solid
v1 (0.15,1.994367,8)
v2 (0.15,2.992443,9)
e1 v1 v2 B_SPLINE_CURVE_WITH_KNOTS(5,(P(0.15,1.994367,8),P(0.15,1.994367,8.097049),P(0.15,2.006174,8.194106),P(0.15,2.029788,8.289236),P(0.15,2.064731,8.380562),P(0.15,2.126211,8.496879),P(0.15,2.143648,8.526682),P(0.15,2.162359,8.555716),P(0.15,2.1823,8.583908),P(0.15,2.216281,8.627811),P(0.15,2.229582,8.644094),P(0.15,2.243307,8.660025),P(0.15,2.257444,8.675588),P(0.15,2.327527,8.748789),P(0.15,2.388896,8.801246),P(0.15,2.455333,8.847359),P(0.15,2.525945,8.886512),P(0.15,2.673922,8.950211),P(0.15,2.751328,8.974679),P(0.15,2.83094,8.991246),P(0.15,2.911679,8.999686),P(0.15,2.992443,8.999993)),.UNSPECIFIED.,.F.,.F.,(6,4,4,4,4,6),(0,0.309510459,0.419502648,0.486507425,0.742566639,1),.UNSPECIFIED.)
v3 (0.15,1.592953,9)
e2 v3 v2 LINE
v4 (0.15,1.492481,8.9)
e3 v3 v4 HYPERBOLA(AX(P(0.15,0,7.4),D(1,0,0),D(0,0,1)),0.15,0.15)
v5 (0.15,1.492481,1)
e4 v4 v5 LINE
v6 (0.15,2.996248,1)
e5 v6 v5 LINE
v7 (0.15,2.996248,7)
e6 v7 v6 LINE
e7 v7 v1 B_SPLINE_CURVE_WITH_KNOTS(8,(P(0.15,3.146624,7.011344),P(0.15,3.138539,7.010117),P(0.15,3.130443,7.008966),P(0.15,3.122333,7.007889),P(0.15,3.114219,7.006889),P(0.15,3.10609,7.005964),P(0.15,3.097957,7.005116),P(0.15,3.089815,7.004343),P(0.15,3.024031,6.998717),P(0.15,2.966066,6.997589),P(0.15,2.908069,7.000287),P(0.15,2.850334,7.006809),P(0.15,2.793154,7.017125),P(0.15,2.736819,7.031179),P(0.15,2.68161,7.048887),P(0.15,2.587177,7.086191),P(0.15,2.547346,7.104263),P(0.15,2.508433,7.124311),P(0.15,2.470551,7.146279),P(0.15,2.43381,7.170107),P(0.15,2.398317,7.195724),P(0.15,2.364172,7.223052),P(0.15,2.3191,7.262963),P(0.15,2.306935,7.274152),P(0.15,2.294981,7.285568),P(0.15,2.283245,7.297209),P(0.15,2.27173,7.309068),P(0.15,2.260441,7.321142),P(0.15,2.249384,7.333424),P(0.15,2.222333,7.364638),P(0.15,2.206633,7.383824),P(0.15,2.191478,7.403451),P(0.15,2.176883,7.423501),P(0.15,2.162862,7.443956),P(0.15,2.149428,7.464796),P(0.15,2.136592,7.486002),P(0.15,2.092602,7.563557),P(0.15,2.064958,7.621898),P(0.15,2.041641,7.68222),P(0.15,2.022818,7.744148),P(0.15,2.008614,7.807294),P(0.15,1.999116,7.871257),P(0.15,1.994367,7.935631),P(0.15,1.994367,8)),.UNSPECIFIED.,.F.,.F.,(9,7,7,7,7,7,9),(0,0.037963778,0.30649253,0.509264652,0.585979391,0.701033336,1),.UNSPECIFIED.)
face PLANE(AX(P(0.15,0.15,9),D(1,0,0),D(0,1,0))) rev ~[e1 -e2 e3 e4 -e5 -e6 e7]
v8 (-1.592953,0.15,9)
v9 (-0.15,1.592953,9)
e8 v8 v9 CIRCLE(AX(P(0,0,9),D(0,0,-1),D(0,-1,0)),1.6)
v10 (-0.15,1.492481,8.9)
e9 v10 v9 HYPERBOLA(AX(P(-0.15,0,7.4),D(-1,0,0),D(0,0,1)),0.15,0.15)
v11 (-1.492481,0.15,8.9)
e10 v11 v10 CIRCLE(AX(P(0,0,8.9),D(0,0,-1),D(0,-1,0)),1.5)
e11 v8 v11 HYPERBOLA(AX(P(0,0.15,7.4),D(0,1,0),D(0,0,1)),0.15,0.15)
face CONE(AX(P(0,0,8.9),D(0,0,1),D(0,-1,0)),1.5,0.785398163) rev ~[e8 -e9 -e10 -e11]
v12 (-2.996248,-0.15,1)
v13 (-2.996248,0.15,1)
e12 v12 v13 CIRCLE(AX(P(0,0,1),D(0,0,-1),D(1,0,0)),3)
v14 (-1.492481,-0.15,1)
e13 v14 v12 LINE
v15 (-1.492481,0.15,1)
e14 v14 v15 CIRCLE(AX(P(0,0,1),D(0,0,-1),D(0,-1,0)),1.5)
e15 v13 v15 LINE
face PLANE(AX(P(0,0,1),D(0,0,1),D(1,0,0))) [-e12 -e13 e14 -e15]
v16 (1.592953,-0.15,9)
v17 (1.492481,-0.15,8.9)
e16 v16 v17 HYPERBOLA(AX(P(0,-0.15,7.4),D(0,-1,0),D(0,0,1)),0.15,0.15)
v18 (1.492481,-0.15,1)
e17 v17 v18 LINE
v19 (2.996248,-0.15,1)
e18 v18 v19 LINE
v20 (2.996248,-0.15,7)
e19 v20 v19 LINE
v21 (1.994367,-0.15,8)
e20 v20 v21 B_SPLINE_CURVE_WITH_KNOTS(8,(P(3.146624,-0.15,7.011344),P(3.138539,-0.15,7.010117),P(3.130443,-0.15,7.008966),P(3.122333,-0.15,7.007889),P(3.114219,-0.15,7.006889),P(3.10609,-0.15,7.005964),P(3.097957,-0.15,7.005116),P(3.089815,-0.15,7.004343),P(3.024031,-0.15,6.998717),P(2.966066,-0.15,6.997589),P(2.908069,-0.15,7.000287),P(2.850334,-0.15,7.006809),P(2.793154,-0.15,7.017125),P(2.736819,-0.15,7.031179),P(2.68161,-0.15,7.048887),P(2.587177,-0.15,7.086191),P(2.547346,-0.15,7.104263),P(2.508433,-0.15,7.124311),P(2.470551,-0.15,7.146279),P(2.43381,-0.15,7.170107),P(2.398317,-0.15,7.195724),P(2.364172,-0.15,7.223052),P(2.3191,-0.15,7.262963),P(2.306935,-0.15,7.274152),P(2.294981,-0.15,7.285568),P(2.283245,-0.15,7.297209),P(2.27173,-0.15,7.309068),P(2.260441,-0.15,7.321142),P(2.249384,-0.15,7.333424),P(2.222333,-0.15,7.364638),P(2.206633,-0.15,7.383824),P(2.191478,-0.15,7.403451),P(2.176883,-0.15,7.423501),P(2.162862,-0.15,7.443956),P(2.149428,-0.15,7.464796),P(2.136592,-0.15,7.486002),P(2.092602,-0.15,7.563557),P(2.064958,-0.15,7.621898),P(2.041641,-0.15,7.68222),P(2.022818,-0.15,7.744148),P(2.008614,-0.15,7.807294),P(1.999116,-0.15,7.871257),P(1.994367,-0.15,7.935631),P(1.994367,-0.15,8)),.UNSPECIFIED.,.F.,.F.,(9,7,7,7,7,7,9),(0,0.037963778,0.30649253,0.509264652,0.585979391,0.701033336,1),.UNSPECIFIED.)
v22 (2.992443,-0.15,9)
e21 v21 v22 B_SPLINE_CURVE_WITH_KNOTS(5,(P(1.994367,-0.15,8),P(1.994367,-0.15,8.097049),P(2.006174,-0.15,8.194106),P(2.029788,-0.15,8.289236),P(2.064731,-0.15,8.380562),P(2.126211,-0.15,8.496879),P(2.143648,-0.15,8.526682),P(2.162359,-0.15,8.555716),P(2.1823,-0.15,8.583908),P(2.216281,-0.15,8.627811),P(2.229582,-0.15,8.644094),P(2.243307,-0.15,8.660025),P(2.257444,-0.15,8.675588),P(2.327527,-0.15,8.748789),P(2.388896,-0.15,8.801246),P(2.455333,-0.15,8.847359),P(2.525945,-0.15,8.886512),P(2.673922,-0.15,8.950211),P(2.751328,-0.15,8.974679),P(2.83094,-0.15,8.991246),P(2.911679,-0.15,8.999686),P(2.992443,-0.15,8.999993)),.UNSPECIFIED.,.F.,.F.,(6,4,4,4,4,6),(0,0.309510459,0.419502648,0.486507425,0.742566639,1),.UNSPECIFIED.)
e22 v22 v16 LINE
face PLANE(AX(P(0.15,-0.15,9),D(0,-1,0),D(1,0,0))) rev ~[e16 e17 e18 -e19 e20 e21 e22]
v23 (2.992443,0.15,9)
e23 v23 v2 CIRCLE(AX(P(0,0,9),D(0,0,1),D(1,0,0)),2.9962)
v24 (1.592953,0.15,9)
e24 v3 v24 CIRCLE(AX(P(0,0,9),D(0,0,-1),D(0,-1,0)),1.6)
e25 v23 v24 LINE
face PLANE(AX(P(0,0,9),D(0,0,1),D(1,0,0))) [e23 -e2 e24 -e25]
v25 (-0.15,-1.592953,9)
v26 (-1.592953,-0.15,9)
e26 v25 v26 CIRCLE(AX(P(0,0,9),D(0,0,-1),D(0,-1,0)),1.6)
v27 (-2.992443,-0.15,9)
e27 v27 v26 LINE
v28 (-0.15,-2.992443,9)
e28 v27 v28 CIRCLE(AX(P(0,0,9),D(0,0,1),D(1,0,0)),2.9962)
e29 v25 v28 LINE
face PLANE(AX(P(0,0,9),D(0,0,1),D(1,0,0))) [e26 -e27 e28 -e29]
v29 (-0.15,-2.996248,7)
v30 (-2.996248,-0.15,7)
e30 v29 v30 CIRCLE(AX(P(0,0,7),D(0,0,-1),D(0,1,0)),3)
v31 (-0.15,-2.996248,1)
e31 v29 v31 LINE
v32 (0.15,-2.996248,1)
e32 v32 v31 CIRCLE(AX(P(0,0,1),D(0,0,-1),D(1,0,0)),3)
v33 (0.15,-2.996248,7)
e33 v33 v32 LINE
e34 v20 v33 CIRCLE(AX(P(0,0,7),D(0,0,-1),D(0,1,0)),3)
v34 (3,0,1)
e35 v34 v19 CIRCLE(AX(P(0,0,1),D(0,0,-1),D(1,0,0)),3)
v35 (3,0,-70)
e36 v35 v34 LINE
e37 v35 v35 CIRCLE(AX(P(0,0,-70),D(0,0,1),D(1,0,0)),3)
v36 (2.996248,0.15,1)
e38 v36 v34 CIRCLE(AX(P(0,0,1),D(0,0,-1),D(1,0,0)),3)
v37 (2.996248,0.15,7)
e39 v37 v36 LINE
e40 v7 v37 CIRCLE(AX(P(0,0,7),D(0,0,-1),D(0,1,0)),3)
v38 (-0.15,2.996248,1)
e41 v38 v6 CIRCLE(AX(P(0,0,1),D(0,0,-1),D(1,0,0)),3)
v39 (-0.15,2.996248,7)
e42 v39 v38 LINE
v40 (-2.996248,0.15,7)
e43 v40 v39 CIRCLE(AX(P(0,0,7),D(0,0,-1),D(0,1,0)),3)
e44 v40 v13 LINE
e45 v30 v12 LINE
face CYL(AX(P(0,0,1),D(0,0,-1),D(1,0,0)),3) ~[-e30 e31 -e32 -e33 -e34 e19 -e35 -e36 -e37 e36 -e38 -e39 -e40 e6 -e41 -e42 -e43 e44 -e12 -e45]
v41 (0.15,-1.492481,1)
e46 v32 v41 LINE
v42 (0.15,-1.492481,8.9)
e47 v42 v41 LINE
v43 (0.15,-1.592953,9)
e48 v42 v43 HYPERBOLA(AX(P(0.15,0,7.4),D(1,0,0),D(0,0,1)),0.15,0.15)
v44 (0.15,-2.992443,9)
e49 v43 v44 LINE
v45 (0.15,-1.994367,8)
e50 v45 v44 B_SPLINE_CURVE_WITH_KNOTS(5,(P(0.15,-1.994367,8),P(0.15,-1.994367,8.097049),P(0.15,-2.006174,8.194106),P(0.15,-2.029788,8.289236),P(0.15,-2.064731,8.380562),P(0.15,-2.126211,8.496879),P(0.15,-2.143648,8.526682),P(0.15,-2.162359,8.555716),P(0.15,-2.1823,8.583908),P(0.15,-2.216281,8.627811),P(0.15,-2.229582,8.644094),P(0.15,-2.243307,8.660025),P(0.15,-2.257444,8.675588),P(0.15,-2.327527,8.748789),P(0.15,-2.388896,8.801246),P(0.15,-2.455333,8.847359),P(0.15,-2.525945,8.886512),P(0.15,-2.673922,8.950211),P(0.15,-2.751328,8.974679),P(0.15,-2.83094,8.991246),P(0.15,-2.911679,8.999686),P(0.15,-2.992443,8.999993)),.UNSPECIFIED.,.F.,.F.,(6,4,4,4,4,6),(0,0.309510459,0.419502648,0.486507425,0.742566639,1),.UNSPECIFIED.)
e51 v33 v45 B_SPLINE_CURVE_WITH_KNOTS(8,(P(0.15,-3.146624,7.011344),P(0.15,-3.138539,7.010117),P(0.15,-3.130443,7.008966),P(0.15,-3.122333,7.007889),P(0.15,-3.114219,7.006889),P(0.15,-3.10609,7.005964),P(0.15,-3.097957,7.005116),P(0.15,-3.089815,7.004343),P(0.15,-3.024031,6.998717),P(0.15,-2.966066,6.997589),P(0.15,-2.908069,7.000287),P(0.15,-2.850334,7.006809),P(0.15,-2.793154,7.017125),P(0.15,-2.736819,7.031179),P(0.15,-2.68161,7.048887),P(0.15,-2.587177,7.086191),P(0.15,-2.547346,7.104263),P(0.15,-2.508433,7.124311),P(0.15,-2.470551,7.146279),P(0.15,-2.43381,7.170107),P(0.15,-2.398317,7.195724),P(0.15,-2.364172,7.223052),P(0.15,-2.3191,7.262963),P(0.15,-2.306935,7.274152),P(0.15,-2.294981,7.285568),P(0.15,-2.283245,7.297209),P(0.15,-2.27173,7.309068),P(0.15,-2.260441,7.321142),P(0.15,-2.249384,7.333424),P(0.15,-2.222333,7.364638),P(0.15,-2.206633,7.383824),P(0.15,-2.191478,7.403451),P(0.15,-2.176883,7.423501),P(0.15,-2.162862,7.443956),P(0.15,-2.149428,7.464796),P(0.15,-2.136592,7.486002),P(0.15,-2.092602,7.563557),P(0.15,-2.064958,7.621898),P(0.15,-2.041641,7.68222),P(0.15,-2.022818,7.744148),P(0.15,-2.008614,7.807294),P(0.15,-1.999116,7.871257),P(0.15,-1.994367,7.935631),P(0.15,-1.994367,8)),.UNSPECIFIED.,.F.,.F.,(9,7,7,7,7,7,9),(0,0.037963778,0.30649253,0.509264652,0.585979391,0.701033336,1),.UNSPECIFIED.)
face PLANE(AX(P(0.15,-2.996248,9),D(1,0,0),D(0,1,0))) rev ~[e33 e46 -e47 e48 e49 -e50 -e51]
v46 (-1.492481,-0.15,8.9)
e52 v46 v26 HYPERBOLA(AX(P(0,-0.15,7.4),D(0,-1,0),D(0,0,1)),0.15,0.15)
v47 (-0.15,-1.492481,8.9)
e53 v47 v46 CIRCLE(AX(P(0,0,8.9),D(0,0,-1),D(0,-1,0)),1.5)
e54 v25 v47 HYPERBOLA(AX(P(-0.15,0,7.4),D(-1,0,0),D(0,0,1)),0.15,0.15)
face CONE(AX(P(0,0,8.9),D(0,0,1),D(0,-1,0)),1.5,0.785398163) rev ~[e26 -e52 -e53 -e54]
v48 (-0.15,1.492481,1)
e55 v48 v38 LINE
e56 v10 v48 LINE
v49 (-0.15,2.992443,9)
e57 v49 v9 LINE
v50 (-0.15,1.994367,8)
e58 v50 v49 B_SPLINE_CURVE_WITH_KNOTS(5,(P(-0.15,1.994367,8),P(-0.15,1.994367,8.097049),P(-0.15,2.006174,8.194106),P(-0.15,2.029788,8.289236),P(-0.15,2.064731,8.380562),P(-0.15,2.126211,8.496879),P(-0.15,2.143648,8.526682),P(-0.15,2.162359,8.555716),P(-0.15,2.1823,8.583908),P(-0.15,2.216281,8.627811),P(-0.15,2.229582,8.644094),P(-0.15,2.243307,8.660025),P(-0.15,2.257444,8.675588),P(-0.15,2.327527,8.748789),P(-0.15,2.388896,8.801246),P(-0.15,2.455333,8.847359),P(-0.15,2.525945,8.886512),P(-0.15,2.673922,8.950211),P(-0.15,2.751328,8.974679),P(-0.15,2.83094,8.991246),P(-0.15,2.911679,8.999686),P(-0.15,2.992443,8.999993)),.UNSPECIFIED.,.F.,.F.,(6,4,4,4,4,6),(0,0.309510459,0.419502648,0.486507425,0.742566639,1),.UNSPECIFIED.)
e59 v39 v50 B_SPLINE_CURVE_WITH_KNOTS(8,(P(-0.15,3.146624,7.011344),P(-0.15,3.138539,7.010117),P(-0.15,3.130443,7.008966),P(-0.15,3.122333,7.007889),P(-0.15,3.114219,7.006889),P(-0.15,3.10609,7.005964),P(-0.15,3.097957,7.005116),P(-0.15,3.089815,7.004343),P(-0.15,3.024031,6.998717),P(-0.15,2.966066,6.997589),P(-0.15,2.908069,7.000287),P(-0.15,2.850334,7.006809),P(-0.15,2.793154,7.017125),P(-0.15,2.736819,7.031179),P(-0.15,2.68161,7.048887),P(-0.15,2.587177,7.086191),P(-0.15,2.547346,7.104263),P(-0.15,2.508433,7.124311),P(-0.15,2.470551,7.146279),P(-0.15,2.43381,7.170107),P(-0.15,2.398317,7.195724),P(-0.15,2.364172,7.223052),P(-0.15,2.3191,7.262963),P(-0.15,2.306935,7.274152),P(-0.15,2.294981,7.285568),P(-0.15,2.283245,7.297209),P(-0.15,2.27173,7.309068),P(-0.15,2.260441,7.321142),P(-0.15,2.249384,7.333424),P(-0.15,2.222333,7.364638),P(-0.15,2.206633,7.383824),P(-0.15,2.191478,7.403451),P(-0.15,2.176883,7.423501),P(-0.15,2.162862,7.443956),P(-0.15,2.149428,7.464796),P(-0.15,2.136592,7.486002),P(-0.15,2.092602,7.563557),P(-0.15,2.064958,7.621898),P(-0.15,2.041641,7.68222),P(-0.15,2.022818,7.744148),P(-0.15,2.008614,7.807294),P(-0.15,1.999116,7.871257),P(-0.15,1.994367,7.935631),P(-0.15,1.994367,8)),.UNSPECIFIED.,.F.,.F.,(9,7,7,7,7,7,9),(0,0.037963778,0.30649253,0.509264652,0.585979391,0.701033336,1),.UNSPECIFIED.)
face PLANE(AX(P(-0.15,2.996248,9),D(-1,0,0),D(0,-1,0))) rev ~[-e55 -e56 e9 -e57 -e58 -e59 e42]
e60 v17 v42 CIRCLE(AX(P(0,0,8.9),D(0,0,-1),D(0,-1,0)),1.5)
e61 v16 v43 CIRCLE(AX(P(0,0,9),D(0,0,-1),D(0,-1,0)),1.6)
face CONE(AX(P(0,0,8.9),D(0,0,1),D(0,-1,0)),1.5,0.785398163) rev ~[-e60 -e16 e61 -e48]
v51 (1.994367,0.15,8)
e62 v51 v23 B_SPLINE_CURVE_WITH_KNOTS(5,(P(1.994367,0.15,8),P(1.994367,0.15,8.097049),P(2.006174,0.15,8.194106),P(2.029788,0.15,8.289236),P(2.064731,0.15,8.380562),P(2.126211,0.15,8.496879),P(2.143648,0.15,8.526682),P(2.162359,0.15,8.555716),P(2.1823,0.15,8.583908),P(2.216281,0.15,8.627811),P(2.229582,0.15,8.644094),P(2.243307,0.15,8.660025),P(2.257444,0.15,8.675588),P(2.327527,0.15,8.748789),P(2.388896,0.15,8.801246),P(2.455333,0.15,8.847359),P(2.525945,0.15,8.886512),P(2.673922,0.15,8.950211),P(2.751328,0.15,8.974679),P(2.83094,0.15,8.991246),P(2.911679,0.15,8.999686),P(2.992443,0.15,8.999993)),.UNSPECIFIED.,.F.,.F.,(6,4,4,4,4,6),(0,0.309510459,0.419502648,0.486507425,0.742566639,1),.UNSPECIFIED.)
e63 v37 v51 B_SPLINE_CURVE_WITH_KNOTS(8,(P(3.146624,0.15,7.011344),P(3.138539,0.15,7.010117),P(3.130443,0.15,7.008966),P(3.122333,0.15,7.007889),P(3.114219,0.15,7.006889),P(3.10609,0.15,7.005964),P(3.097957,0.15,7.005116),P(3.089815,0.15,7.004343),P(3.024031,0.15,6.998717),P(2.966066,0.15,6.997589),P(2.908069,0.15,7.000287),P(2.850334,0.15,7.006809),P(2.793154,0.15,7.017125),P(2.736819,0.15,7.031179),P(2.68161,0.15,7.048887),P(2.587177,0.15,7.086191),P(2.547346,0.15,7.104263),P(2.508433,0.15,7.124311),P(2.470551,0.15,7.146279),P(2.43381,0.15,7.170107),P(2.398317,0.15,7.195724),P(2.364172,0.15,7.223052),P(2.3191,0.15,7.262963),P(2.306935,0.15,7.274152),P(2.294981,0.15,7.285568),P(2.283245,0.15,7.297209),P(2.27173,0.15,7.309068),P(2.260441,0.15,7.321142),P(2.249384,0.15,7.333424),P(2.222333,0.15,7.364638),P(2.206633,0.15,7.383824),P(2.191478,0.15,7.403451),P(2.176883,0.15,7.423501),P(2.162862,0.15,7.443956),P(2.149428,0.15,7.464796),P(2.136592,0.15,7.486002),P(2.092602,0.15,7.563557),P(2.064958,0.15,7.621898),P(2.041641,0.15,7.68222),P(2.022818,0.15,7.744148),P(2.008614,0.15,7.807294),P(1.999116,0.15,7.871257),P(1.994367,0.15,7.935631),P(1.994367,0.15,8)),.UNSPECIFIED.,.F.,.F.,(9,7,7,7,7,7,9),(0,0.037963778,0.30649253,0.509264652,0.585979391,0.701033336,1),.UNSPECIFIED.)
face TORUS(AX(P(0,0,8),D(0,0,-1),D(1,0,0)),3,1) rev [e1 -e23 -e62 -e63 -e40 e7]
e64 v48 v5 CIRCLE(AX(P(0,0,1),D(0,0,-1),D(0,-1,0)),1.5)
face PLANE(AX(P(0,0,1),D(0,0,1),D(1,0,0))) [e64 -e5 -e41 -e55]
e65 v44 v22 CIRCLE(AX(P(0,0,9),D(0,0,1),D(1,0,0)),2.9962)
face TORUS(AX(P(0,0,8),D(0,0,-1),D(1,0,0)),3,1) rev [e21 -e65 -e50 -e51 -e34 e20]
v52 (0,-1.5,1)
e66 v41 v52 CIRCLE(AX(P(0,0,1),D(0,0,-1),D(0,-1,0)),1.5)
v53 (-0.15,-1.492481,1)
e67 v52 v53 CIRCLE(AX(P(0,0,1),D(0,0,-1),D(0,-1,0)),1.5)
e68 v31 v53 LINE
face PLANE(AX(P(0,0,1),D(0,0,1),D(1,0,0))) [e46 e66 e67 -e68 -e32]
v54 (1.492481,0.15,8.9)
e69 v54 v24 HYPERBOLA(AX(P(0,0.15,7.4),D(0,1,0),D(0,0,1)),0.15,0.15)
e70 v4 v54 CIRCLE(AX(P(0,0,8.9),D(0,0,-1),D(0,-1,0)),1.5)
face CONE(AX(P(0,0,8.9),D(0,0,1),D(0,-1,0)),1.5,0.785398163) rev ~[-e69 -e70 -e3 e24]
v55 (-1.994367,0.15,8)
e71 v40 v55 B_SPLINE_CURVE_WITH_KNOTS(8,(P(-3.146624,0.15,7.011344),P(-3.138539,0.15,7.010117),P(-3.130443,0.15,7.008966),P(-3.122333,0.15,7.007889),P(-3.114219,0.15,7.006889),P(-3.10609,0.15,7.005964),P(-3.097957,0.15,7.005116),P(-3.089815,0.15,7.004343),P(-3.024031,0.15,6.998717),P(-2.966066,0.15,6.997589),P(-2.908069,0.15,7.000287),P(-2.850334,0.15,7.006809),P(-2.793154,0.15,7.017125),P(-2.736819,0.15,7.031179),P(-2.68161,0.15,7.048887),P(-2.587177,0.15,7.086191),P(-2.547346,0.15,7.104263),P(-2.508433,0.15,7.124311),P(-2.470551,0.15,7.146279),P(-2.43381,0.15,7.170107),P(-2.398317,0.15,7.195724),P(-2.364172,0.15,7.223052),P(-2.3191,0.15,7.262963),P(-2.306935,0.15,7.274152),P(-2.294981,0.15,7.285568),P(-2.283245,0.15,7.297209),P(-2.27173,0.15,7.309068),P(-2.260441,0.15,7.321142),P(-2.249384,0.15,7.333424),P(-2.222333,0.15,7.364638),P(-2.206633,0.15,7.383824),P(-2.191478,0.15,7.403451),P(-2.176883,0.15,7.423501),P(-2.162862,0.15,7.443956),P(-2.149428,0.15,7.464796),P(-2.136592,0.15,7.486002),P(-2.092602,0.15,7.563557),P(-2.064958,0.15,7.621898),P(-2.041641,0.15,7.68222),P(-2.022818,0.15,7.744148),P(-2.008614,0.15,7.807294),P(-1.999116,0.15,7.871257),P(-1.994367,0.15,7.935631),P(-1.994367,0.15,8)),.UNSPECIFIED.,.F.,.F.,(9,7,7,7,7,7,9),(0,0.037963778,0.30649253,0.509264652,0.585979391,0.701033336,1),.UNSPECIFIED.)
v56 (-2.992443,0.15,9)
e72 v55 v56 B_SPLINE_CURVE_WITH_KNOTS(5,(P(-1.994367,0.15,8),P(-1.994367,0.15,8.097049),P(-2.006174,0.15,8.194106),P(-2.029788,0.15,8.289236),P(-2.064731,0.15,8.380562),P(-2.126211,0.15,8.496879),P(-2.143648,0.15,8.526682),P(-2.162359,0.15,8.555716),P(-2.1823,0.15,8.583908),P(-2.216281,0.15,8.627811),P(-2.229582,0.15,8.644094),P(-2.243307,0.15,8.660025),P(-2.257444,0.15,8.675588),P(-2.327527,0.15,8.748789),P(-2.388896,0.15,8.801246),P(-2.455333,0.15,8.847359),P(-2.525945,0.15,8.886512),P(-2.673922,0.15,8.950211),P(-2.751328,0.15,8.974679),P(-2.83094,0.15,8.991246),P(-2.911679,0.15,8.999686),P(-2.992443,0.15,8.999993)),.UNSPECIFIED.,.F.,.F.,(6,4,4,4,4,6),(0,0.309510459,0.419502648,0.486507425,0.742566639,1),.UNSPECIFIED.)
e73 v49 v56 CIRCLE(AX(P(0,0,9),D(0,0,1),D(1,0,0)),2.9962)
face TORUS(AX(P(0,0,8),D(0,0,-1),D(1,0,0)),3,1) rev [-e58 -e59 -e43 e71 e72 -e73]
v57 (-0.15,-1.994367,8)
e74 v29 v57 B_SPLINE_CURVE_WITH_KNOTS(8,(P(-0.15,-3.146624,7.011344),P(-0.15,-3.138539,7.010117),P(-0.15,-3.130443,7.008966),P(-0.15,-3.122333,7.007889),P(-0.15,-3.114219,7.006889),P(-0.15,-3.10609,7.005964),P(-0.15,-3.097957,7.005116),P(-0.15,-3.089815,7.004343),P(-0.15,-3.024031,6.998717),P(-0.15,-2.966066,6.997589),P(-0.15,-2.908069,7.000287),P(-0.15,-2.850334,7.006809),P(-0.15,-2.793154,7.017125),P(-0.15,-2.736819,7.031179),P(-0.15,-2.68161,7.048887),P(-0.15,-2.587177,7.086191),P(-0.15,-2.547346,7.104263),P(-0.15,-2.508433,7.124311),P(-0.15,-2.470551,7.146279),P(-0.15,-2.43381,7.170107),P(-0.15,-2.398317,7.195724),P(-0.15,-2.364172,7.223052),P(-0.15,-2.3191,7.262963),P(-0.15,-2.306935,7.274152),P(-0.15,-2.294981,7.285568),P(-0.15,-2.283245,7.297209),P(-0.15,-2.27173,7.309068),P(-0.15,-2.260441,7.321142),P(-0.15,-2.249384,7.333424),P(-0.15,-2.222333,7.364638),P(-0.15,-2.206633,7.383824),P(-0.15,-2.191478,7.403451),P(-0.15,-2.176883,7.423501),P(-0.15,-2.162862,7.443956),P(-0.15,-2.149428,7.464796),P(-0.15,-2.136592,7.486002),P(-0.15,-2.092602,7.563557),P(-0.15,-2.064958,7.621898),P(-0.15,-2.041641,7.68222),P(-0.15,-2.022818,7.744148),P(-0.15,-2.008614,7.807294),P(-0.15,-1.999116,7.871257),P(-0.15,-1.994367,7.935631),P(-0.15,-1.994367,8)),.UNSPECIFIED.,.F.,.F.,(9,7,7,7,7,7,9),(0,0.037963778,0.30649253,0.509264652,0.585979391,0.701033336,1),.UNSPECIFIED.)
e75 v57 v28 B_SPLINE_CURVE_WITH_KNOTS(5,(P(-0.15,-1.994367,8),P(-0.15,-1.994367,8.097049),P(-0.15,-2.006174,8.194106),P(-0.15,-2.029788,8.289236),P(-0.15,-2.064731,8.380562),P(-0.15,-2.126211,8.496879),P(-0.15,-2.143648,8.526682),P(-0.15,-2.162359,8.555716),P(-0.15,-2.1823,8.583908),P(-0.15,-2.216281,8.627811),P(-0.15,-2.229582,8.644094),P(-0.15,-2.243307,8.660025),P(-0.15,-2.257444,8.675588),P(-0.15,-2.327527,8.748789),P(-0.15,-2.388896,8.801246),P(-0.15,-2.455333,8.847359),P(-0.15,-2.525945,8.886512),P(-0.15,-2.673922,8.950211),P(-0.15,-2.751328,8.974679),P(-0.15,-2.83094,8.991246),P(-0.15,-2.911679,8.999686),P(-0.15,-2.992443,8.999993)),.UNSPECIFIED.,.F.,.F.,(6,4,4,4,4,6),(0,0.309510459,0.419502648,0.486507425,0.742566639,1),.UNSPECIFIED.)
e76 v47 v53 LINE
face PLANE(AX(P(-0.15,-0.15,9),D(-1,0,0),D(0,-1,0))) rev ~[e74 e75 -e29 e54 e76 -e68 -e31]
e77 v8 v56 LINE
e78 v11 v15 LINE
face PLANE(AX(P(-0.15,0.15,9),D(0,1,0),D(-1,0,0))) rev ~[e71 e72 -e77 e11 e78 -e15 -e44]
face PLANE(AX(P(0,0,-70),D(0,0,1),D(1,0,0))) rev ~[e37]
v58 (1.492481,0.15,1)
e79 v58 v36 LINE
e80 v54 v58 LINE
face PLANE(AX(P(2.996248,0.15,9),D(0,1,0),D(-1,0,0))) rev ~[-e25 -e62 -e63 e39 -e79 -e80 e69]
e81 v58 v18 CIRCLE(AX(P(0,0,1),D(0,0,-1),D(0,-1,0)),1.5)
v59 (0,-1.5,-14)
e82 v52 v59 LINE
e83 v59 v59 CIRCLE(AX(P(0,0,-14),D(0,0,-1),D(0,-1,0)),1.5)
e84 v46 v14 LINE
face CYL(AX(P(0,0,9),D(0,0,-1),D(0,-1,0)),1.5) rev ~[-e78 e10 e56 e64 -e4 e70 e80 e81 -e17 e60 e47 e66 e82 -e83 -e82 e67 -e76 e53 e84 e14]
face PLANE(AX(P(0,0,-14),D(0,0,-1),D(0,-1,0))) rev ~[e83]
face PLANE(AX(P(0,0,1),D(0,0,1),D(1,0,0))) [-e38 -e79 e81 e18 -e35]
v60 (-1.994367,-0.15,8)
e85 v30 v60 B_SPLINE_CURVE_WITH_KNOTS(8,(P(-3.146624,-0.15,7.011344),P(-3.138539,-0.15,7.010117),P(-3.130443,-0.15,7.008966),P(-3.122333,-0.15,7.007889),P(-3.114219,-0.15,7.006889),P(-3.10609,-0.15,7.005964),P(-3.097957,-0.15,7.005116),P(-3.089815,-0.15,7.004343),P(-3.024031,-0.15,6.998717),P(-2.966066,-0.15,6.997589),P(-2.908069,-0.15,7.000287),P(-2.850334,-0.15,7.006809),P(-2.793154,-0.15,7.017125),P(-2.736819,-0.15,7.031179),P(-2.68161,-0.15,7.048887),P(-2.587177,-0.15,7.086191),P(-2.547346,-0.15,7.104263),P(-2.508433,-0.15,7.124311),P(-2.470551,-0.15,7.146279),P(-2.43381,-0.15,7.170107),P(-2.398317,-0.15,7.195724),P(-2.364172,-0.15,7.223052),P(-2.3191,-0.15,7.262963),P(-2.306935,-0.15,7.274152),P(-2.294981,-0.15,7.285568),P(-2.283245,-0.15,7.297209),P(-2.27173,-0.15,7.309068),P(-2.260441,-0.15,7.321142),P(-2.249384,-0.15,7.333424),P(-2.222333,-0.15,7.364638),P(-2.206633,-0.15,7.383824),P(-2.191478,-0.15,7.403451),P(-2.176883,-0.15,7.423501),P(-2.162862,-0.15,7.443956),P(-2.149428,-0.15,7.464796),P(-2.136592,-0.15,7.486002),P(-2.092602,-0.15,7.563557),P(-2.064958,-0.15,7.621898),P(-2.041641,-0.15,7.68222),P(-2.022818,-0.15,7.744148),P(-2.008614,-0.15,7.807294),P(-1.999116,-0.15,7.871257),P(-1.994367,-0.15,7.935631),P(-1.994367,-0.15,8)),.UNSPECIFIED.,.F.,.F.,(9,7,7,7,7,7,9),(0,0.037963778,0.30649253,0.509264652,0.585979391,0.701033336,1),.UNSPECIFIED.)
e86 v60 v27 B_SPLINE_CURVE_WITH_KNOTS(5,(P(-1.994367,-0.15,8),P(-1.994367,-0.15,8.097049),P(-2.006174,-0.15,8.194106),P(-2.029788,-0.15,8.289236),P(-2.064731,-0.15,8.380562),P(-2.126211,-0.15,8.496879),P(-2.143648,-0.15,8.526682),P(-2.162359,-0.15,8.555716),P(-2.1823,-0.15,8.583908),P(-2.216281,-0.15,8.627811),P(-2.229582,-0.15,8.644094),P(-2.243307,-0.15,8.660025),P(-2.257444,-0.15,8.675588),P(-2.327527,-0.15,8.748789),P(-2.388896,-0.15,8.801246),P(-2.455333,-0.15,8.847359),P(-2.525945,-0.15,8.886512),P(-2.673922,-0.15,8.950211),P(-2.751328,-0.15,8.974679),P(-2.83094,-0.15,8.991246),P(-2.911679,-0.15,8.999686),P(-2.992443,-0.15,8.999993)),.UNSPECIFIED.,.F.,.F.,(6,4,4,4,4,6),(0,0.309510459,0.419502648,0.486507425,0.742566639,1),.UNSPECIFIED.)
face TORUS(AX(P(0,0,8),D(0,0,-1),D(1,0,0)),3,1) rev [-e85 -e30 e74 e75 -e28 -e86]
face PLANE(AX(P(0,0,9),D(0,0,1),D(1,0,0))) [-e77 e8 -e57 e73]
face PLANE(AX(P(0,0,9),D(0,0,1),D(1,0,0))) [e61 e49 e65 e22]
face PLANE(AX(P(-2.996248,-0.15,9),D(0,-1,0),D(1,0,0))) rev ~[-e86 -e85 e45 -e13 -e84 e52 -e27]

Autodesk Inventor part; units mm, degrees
ref_plane "YZ Plane" through (0, 0, 0) normal (1, 0, 0) x (0, 1, 0)
ref_plane "XZ Plane" through (0, 0, 0) normal (0, 1, 0) x (-1, 0, 0)
sketch "Skizze1" plane through (0, 0, 0) normal (0, 0, 1) x (1, 0, 0)
  circle A0 centre (0, 0) radius 3
  dimension "d2" = 6
extrude "Extrusion1" add sketch "Skizze1" against normal blind 70
sketch "Skizze2" plane through (0, 0, 0) normal (0, 0, 1) x (1, 0, 0)
  circle A0 centre (0, 0) radius 3 projected
  circle A1 centre (0, 0) radius 3
  dimension "d36" = 6
extrude "Extrusion2" add sketch "Skizze2" along normal blind 1
sketch "Skizze3" plane through (0, 0, 1) normal (0, 0, 1) x (1, 0, 0)
  circle A0 centre (0, 0) radius 3 projected
  circle A1 centre (0, 0) radius 3
  dimension "d28" = 6
extrude "Extrusion3" add sketch "Skizze3" along normal blind 8
ref_plane "Arbeitsebene1" through (0, 0, 2.5) normal (0, 0, 1) x (1, 0, 0)
sketch "Skizze4" plane through (0, 0, 2.5) normal (0, 0, 1) x (1, 0, 0)
  circle A0 centre (0, 0) radius 3
extrude "Extrusion4" [suppressed]
hole "Bohrung1" at (0, 0, 9) direction (0, 0, -1) diameter 3 depth 23
chamfer "Fase1" distance 0.1 angle 45 1 edges at (0, 1.5, 9)
sketch "Skizze5" plane through (0, 0, 9) normal (0, 0, 1) x (1, 0, 0)
  circle A0 centre (0, 0) radius 3 projected
  line L0 (-3.5, -0.15) -> (3.5, -0.15)
  line L1 (3.5, -0.15) -> (3.5, 0.15)
  line L2 (3.5, 0.15) -> (-3.5, 0.15)
  line L3 (-3.5, 0.15) -> (-3.5, -0.15)
  line L4 (-3.5, -0.15) -> (3.5, 0.15) construction
  line L5 (3.5, -0.15) -> (-3.5, 0.15) construction
  line L6 (-0.15, -3.5) -> (0.15, -3.5)
  line L7 (0.15, -3.5) -> (0.15, 3.5)
  line L8 (0.15, 3.5) -> (-0.15, 3.5)
  line L9 (-0.15, 3.5) -> (-0.15, -3.5)
  line L10 (-0.15, -3.5) -> (0.15, 3.5) construction
  line L11 (0.15, -3.5) -> (-0.15, 3.5) construction
extrude "Extrusion5" cut sketch "Skizze5" against normal up to surface (8 mm away) contours A0 L0 L7 L2 | A0 L2 L1 L0 | L7 L2 L9 A0 | A0 L9 L8 L7 | L7 L0 L9 L2 | L7 L6 L9 A0 | A0 L9 L0 L7 | L9 L0 A0 L2 | A0 L0 L3 L2
sketch "Skizze6" plane through (0, 0, 0) normal (0, 1, 0) x (-1, 0, 0)
  line L0 (0, 0) -> (-2, 0)
  line L1 (0, -1.8) -> (0, 10.8) projected
  circle A0 centre (-3, 8) radius 1
  line L2 (-0.15, 9) -> (-2.9962, 9) projected
  dimension "d33" = 3
  dimension "d34" = 2
  dimension "d35" = 1
revolve "Umdrehung1" cut sketch "Skizze6" angle 360 about axis through (0, 0, -10) along (0, 0, 1)
equation "\"d2\" = LowerDiameter"
equation "\"d0\" = LowerLength"
equation "\"d36\" = SealingRingDiameter"
equation "\"d3\" = SealingRingThickness"
equation "\"d28\" = UpperDiameter"
equation "\"d5\" = UpperLength"
equation "\"d9\" = DrillDiameter"
equation "\"d14\" = DrillDepth"
equation "\"UpperDiameter\" = 6"
equation "\"LowerDiameter\" = 6"
equation "\"UpperLength\" = 8"
equation "\"LowerLength\" = 70"
equation "\"SealingRingDiameter\" = 6"
equation "\"SealingRingThickness\" = 1"
equation "\"DrillDiameter\" = 3"
equation "\"DrillDepth\" = 23"
properties part number "specimen_holder_rod_6mm" material "Edelstahl"
